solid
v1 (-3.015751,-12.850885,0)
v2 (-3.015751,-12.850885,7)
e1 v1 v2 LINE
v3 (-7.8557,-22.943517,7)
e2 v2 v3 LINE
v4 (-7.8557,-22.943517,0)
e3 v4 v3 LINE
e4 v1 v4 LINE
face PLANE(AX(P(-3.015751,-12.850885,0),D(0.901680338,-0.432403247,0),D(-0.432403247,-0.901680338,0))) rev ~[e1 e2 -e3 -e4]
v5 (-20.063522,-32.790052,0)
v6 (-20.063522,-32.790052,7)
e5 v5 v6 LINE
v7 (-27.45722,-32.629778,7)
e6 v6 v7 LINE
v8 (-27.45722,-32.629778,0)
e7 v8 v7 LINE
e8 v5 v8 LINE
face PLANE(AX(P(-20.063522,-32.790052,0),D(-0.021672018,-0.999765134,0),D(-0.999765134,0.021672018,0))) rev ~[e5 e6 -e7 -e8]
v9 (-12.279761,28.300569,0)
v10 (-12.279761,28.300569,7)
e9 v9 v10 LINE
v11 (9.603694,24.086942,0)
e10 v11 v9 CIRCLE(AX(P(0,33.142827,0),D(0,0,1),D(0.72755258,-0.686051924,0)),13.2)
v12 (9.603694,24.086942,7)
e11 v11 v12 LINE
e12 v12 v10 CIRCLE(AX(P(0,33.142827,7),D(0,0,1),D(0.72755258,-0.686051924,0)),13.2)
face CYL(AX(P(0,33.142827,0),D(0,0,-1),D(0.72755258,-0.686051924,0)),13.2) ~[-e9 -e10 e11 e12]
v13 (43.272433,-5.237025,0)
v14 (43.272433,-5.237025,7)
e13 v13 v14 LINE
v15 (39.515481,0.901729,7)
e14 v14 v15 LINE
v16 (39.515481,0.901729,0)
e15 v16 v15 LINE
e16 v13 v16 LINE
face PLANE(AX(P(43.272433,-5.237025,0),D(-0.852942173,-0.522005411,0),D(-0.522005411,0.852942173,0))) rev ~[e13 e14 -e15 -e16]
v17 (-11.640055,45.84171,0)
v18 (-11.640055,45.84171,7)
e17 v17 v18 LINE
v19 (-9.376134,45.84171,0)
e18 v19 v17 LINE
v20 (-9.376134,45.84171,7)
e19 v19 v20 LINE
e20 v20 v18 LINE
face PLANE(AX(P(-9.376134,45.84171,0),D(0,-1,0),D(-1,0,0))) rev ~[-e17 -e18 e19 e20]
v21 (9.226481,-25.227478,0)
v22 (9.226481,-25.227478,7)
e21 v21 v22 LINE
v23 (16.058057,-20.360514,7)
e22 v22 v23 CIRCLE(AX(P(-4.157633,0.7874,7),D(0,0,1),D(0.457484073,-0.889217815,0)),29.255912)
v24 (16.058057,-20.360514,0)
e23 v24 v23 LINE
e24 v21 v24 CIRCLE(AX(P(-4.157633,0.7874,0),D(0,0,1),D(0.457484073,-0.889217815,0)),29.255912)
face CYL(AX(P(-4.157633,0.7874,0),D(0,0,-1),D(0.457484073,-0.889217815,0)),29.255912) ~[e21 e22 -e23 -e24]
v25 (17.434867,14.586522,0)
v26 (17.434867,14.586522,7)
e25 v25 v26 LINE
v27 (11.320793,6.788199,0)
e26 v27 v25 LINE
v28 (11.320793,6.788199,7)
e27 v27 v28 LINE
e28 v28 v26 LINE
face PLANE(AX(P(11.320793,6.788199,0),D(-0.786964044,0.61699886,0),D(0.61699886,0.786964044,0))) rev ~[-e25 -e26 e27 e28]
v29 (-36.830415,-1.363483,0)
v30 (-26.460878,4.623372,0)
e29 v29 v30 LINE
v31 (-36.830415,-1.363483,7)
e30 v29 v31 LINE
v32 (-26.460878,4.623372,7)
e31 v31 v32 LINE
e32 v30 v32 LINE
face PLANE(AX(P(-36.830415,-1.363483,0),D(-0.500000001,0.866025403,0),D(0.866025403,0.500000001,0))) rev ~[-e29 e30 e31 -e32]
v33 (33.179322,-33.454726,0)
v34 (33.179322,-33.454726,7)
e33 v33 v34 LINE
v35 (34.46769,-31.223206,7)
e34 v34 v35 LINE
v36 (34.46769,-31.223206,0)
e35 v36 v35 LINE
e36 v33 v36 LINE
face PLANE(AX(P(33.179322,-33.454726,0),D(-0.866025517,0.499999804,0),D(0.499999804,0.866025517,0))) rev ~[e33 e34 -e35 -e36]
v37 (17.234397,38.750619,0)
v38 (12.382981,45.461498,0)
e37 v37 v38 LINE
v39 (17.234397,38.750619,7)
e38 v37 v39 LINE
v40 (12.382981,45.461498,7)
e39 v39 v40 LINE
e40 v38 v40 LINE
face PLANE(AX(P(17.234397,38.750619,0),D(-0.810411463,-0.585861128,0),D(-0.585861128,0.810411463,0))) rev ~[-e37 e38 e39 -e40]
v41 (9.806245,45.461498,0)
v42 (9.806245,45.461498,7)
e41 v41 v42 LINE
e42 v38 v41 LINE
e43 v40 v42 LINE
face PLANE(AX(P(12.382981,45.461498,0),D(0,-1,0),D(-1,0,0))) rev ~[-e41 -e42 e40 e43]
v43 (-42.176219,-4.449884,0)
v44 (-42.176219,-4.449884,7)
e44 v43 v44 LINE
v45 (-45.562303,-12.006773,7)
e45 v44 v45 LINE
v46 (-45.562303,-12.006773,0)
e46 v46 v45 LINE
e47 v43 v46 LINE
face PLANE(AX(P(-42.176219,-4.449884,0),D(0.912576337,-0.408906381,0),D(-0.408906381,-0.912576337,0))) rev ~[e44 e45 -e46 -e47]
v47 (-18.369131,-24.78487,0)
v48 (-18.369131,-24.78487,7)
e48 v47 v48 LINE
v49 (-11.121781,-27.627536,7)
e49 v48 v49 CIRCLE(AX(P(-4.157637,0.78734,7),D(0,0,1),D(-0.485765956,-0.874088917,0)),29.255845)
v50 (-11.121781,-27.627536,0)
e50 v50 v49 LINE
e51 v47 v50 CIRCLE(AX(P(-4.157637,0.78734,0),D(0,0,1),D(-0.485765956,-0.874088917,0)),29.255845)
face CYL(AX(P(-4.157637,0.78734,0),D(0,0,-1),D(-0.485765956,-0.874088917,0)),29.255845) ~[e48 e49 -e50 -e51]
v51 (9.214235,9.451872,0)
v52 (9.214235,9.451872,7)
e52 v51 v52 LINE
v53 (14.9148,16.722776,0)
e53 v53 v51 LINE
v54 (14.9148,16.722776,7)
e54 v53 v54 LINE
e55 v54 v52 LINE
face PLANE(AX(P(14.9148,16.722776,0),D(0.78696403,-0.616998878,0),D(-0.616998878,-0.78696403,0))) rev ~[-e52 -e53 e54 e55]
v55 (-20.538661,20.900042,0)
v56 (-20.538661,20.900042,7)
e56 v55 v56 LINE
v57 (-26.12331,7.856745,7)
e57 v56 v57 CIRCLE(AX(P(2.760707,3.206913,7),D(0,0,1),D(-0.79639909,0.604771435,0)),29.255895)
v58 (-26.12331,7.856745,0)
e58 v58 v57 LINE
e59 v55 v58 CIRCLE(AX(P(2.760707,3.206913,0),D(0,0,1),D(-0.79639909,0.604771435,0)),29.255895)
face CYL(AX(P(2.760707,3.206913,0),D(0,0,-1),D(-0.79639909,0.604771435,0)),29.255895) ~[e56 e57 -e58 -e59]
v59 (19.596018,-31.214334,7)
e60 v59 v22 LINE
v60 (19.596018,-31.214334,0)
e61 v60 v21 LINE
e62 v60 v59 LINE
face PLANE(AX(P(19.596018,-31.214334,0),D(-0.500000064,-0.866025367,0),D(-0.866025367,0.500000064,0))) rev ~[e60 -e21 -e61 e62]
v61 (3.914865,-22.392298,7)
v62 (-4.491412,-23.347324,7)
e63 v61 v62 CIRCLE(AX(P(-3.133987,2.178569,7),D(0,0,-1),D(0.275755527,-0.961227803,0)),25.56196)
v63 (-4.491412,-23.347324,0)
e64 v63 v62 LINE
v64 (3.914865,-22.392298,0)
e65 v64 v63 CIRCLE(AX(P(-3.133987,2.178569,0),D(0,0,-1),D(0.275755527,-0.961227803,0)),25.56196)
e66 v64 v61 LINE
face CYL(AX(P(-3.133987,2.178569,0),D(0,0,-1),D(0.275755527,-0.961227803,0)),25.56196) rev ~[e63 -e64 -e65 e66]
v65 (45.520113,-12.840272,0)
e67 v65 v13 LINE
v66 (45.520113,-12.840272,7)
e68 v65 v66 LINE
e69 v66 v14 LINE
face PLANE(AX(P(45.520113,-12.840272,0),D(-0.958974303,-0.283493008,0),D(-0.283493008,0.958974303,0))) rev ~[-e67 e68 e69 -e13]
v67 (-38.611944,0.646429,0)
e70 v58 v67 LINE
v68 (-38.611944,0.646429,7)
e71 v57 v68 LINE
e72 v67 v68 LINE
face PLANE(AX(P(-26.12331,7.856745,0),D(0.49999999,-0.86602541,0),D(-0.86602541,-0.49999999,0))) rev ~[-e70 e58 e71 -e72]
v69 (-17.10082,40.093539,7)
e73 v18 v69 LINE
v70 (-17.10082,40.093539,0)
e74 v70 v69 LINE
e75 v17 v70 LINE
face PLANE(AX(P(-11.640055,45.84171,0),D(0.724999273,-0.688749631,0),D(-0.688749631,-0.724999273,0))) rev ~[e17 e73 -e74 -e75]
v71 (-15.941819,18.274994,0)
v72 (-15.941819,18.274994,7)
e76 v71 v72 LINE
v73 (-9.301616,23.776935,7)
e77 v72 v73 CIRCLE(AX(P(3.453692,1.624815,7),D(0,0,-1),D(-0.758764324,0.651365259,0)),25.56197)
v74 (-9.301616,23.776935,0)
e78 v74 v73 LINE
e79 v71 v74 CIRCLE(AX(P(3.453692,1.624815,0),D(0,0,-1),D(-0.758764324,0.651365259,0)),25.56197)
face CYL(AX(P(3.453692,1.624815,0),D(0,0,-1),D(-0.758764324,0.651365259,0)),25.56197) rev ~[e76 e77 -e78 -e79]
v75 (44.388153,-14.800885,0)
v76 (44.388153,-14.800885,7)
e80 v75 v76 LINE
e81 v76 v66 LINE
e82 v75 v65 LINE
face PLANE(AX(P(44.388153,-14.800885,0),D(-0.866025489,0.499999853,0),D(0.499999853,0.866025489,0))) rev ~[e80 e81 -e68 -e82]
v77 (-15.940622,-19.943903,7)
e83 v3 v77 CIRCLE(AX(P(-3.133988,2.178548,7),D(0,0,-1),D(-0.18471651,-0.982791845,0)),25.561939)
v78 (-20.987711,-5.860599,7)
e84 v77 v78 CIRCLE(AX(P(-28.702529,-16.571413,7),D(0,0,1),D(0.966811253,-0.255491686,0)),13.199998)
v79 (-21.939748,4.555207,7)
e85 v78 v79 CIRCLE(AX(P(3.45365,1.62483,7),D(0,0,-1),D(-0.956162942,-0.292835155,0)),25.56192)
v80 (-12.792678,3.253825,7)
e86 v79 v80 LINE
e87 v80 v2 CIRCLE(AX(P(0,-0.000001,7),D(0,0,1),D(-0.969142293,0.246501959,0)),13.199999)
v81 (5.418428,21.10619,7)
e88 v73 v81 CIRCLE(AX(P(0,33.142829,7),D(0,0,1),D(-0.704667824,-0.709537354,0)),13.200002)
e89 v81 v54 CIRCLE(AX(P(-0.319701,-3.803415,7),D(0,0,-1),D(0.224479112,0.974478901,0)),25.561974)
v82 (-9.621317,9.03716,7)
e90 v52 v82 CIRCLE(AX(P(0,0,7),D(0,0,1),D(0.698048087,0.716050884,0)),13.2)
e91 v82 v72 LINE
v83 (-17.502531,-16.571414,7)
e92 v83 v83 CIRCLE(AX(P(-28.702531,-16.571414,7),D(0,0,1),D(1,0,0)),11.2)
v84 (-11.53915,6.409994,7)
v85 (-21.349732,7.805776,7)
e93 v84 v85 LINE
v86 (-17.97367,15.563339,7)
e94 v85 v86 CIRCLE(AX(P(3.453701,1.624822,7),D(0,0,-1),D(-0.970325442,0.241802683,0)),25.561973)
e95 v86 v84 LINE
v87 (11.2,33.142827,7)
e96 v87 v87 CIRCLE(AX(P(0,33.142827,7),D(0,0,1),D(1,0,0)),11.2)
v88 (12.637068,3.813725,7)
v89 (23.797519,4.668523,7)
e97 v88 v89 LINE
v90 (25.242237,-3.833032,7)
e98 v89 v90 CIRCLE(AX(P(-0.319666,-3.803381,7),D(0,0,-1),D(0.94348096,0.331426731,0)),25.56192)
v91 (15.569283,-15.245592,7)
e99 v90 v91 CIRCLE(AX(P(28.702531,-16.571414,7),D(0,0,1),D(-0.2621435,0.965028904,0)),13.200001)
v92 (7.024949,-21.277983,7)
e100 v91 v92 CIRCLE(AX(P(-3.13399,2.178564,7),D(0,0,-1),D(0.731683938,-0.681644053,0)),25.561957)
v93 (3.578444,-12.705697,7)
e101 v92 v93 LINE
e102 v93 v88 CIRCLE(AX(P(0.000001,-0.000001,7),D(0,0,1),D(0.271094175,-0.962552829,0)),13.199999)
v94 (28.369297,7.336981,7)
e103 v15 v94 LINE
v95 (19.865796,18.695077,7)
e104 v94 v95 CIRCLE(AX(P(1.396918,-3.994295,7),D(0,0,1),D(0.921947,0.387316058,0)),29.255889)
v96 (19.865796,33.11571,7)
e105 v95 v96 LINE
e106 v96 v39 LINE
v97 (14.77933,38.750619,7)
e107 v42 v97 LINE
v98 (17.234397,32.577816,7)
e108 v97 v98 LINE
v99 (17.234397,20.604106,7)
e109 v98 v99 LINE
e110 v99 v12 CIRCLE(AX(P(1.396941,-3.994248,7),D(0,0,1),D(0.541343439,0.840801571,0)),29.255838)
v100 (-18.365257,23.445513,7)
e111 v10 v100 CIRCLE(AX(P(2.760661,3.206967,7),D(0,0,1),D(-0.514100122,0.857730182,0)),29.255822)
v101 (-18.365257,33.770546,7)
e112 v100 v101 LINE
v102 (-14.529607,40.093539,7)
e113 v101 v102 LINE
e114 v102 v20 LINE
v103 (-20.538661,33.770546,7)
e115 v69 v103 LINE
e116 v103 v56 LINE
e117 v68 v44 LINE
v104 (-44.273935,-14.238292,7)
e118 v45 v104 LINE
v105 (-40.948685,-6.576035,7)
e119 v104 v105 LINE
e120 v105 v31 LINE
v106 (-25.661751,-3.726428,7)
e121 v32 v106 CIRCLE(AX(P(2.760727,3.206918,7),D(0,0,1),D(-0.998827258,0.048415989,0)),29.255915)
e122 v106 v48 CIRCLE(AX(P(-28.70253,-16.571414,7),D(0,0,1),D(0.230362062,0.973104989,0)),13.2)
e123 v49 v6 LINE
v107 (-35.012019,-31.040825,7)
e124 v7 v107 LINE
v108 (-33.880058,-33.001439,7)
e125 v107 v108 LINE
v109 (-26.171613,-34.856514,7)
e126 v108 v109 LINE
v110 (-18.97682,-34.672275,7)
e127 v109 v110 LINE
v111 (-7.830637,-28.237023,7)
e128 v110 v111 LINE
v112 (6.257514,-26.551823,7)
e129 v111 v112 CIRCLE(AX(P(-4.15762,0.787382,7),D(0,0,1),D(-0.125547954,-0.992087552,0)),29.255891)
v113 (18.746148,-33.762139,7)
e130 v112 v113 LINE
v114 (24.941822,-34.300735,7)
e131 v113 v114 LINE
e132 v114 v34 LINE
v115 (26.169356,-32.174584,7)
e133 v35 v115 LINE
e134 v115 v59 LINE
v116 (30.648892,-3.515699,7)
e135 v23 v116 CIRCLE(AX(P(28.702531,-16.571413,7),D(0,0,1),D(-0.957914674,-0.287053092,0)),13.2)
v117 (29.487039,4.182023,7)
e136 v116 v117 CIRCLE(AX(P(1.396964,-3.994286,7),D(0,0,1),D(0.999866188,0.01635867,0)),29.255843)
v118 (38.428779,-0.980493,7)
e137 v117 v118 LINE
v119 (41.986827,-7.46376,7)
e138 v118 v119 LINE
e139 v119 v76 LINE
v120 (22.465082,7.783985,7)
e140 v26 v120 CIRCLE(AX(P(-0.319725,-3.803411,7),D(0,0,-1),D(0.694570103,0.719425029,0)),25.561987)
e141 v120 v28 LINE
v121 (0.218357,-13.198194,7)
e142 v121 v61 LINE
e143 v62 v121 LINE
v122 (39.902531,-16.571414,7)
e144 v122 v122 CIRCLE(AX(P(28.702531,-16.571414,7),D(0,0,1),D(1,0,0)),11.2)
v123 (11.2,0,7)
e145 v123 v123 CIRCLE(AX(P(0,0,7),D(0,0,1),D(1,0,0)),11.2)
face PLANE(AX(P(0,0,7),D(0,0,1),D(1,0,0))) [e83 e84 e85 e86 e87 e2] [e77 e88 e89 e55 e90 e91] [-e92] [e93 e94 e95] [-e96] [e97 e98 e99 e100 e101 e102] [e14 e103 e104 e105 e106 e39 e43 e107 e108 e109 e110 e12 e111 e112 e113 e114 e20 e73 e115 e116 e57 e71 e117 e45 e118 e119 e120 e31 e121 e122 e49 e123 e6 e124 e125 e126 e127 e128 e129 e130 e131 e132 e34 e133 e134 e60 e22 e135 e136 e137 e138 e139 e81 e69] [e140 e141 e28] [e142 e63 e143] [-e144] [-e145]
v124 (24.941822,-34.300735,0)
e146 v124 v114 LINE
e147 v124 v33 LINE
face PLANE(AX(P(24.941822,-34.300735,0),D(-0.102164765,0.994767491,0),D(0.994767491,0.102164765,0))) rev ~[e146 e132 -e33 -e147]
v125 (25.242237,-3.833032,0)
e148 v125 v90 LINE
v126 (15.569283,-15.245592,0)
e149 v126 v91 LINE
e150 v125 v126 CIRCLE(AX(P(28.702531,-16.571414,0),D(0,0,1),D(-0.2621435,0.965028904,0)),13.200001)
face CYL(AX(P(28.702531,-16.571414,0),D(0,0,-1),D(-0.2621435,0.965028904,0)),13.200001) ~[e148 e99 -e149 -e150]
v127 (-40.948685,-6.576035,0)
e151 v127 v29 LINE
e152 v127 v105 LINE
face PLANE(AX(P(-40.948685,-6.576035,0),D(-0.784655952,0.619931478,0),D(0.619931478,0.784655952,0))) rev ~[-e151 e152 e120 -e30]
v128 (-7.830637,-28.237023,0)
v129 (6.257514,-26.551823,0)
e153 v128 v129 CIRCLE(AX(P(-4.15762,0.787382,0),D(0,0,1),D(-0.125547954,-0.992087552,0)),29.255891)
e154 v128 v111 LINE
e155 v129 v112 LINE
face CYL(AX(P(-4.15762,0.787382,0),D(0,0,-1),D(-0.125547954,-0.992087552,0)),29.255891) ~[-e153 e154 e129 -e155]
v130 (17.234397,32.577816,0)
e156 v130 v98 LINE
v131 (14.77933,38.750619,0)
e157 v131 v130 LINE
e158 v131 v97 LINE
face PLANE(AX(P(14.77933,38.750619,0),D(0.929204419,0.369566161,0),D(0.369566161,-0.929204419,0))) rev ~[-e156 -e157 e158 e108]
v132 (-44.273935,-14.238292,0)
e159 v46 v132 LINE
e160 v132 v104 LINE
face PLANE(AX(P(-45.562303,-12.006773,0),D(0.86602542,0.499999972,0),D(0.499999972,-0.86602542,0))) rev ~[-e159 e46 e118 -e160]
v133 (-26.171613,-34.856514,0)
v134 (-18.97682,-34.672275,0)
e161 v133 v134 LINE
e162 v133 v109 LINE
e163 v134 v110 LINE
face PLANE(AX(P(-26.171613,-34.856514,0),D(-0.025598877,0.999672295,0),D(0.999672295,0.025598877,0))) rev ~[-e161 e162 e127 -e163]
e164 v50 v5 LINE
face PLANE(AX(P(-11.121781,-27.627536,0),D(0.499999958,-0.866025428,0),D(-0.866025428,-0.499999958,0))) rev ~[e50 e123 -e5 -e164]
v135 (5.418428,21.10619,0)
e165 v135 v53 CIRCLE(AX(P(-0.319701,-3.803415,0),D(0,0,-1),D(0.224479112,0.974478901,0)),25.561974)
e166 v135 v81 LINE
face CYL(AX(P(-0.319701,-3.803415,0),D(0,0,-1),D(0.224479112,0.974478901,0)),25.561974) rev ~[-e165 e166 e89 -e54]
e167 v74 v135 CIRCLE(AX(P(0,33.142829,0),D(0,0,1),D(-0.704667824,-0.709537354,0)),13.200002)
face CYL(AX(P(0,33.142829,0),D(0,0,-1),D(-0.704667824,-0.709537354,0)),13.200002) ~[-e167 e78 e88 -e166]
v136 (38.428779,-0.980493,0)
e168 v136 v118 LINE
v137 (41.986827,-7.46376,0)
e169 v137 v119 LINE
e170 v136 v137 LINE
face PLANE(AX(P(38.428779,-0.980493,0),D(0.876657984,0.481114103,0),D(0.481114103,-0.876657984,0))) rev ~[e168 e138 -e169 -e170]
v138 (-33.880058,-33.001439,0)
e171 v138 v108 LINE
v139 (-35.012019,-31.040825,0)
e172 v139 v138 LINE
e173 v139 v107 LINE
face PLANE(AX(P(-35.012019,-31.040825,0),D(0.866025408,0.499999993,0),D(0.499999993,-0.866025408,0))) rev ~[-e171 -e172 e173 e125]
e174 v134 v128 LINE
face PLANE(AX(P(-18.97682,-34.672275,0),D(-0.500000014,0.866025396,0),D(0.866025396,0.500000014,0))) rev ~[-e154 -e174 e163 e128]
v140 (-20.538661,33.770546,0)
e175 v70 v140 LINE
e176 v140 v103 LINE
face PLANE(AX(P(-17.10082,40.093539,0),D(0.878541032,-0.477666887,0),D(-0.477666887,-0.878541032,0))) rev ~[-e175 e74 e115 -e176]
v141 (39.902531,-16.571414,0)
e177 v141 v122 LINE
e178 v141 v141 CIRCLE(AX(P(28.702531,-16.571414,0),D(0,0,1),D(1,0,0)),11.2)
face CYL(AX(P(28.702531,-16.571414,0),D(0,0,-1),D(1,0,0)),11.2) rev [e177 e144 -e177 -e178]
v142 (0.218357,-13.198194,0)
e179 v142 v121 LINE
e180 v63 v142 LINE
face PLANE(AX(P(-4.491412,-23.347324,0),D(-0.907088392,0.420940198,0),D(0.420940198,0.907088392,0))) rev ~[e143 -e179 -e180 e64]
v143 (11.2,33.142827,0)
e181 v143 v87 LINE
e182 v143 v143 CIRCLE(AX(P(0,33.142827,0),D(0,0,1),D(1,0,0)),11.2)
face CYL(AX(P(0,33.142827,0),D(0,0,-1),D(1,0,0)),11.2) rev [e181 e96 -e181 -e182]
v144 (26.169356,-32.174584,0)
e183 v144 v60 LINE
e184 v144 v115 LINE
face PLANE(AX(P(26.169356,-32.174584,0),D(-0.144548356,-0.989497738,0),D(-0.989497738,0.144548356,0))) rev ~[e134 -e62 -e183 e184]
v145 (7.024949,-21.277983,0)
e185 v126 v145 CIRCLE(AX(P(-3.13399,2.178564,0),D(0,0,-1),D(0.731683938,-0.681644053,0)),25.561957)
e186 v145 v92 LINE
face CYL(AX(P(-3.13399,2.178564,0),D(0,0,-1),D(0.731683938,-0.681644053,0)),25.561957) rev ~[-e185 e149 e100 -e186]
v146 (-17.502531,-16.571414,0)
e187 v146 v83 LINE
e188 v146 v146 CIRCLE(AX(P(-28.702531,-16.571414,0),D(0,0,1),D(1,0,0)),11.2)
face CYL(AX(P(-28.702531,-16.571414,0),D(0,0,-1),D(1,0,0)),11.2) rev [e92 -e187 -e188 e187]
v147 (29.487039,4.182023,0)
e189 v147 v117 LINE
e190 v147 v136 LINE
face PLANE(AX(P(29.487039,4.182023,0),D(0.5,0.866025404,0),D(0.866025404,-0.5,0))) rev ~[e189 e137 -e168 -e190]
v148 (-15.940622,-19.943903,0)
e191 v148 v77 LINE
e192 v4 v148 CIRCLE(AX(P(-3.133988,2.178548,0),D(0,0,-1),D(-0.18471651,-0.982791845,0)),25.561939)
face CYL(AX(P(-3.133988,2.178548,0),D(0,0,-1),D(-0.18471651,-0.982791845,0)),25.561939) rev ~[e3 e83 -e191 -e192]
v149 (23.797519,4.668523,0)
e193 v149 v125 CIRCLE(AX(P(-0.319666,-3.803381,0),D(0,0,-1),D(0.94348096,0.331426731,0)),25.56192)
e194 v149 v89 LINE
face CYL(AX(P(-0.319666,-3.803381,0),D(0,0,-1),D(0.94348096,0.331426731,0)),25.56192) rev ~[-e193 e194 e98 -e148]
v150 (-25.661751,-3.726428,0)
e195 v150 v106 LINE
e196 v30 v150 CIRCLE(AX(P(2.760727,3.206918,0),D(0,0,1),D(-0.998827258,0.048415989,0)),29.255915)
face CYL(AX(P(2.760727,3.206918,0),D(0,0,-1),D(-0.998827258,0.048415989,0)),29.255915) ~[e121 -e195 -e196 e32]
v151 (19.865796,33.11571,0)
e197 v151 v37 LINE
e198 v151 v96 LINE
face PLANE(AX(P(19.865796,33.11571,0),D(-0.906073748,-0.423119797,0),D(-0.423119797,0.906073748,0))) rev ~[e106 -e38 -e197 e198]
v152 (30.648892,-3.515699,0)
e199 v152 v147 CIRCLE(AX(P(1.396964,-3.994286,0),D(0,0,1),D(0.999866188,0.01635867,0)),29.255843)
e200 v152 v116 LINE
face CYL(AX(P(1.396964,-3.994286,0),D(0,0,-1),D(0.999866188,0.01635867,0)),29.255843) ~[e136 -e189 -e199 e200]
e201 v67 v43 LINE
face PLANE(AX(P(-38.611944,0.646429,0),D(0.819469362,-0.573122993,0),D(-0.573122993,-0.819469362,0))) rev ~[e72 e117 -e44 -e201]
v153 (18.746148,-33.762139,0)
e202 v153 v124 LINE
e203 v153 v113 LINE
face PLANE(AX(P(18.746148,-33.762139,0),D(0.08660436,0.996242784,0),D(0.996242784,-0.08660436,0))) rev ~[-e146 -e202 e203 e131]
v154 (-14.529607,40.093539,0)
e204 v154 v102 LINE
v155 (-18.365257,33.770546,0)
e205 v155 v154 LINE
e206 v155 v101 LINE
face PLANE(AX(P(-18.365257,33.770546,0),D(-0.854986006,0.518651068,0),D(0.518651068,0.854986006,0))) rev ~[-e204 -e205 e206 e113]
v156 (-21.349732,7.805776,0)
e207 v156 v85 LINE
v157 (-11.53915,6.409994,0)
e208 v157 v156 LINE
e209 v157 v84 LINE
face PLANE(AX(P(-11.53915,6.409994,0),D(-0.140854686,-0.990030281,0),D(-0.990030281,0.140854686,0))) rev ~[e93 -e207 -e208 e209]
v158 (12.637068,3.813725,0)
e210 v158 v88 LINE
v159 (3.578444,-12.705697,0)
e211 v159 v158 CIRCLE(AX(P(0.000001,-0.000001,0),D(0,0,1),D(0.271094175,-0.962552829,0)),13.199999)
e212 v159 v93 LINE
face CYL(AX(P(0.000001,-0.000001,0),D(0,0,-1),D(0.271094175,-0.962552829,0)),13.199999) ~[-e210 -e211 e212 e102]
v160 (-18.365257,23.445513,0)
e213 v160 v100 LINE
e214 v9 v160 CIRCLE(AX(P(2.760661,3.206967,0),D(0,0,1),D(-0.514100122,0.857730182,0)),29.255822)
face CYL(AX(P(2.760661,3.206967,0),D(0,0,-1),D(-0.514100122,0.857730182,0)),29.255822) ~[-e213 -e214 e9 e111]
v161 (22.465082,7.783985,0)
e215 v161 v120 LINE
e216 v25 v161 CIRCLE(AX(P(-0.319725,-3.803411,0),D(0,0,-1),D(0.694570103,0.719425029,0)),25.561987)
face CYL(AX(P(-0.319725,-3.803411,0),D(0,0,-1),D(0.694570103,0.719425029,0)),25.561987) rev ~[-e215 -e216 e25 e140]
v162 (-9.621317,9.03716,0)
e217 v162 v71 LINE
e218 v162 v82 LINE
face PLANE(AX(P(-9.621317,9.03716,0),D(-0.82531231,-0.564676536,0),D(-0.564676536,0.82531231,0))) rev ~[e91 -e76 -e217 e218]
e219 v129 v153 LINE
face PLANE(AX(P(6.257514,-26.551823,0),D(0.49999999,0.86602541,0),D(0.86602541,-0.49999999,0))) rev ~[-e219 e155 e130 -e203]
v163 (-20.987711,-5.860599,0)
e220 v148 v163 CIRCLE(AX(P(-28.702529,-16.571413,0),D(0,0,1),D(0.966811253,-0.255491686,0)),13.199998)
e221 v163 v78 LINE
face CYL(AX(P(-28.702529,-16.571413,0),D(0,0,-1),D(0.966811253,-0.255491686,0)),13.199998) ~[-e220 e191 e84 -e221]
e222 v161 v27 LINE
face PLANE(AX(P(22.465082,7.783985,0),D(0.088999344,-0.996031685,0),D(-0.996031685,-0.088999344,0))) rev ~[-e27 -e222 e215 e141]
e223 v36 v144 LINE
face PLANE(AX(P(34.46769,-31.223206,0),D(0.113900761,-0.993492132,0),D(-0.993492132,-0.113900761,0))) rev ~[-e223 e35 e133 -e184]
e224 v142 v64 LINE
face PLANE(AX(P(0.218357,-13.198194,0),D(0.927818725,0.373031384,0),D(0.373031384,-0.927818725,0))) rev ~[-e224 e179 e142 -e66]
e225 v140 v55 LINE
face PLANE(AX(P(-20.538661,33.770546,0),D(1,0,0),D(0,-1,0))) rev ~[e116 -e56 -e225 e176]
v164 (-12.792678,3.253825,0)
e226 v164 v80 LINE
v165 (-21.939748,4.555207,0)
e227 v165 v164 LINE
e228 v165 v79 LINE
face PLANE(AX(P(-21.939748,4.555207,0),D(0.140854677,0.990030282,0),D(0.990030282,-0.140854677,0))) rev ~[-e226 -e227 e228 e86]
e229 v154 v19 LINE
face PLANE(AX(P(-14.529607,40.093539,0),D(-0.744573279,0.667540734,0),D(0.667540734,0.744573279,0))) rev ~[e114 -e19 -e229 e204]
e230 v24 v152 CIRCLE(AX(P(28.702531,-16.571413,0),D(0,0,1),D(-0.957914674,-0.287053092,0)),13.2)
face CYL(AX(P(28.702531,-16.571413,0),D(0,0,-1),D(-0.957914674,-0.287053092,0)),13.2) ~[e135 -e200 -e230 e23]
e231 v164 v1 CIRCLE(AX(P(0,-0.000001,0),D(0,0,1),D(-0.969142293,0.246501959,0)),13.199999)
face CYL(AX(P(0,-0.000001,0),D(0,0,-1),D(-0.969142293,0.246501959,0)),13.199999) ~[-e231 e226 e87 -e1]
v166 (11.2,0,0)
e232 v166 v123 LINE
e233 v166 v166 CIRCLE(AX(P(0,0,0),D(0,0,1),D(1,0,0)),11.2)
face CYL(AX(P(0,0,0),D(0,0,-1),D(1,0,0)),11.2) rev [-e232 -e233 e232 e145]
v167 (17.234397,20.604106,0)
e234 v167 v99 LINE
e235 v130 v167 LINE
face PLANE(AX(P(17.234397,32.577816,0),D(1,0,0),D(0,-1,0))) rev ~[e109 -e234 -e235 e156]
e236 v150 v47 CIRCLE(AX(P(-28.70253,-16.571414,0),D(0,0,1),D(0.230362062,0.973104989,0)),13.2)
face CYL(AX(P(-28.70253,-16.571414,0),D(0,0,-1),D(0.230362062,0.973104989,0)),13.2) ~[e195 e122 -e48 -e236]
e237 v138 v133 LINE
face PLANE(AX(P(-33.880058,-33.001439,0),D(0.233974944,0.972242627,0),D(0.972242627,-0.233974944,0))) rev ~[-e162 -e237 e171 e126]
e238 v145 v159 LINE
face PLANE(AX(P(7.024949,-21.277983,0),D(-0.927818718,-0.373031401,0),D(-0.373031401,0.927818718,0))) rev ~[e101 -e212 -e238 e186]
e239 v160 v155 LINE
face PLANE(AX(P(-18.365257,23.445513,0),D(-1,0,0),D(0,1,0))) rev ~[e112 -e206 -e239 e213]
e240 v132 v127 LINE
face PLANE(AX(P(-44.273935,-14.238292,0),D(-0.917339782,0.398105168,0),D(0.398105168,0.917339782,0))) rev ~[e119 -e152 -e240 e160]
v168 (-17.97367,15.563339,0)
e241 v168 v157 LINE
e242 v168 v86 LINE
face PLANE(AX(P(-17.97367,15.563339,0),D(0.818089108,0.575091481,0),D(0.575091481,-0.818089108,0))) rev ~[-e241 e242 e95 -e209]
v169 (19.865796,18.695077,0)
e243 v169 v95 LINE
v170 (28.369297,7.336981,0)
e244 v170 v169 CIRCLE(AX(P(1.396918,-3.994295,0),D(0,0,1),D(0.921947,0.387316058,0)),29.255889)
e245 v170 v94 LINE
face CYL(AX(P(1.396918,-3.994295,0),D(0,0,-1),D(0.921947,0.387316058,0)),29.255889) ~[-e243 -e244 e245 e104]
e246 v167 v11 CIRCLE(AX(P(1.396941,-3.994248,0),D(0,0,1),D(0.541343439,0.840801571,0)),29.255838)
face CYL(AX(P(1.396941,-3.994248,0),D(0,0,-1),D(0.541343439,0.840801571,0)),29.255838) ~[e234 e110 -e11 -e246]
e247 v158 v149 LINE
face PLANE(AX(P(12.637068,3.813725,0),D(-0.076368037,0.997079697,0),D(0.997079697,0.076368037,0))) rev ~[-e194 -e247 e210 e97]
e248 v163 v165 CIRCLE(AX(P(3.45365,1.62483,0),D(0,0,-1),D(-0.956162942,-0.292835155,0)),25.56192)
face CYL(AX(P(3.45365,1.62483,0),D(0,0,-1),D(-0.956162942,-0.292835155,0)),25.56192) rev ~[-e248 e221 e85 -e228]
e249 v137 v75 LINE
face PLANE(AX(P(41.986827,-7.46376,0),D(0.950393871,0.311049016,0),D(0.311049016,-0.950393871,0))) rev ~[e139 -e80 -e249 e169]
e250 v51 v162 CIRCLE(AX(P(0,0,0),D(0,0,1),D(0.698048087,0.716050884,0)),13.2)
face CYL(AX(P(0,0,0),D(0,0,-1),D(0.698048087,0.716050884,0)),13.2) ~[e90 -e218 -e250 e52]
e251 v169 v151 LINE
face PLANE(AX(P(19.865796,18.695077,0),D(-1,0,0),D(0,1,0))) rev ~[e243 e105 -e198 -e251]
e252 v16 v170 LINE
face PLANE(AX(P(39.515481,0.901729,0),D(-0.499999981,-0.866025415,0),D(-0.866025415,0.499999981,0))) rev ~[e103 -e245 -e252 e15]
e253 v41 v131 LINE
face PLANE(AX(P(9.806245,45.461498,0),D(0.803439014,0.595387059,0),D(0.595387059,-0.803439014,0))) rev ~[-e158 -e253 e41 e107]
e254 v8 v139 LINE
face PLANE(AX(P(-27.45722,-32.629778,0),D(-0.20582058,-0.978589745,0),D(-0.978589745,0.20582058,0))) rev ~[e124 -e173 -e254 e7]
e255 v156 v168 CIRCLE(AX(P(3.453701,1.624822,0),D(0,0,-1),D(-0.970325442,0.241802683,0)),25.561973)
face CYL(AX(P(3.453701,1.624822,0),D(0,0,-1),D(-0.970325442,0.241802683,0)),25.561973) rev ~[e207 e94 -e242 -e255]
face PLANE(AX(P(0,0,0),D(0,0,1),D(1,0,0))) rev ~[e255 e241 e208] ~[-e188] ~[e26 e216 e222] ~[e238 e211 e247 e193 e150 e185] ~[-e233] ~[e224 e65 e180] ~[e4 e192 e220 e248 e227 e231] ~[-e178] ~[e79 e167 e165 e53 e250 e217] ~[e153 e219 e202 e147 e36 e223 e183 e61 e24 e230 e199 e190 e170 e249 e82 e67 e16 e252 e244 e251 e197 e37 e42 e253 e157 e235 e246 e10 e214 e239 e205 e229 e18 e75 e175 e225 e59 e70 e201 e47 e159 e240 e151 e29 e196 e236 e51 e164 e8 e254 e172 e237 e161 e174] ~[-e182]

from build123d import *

# Parameters (mm, degrees)
F0_R     = 11.2
F1_DEPTH = 7


with BuildPart() as f1:
    # F0 (on Top) → F1 (new body)
    with BuildSketch(Plane.XY):
        with BuildLine():
            Line((-21.939748, 4.555207), (-12.792678, 3.253825))
            ThreePointArc((-12.792678, 3.253825), (-11.283485, -6.850034), (-3.015751, -12.850885))
            Line((-3.015751, -12.850885), (-7.8557, -22.943517))
            Line((-7.8557, -22.943517), (-9.711457, -26.813285))
            Line((-9.711457, -26.813285), (-11.121781, -27.627536))
            Line((-11.121781, -27.627536), (-20.063522, -32.790052))
            Line((-20.063522, -32.790052), (-27.45722, -32.629778))
            Line((-27.45722, -32.629778), (-35.012019, -31.040825))
            Line((-35.012019, -31.040825), (-33.880058, -33.001439))
            Line((-33.880058, -33.001439), (-26.171613, -34.856514))
            Line((-26.171613, -34.856514), (-18.97682, -34.672275))
            Line((-18.97682, -34.672275), (-7.830637, -28.237023))
            Line((-7.830637, -28.237023), (-6.368866, -27.393069))
            Line((-6.368866, -27.393069), (-4.491412, -23.347324))
            Line((-4.491412, -23.347324), (0.218357, -13.198194))
            Line((0.218357, -13.198194), (3.914865, -22.392298))
            Line((3.914865, -22.392298), (5.384581, -26.047835))
            Line((5.384581, -26.047835), (6.257514, -26.551823))
            Line((6.257514, -26.551823), (18.746148, -33.762139))
            Line((18.746148, -33.762139), (24.941822, -34.300735))
            Line((24.941822, -34.300735), (33.179322, -33.454726))
            Line((33.179322, -33.454726), (34.46769, -31.223206))
            Line((34.46769, -31.223206), (26.169356, -32.174584))
            Line((26.169356, -32.174584), (19.596018, -31.214334))
            Line((19.596018, -31.214334), (9.226481, -25.227478))
            Line((9.226481, -25.227478), (8.427354, -24.766103))
            Line((8.427354, -24.766103), (7.024949, -21.277983))
            Line((7.024949, -21.277983), (3.578444, -12.705697))
            ThreePointArc((3.578444, -12.705697), (11.574046, -6.346768), (12.637068, 3.813725))
            Line((12.637068, 3.813725), (23.797519, 4.668523))
            Line((23.797519, 4.668523), (28.076715, 4.996274))
            Line((28.076715, 4.996274), (29.487039, 4.182023))
            Line((29.487039, 4.182023), (38.428779, -0.980493))
            Line((38.428779, -0.980493), (41.986827, -7.46376))
            Line((41.986827, -7.46376), (44.388153, -14.800885))
            Line((44.388153, -14.800885), (45.520113, -12.840272))
            Line((45.520113, -12.840272), (43.272433, -5.237025))
            Line((43.272433, -5.237025), (39.515481, 0.901729))
            Line((39.515481, 0.901729), (28.369297, 7.336981))
            Line((28.369297, 7.336981), (26.907526, 8.180935))
            Line((26.907526, 8.180935), (22.465082, 7.783985))
            Line((22.465082, 7.783985), (11.320793, 6.788199))
            Line((11.320793, 6.788199), (17.434867, 14.586522))
            Line((17.434867, 14.586522), (19.865796, 17.687101))
            Line((19.865796, 17.687101), (19.865796, 18.695077))
            Line((19.865796, 18.695077), (19.865796, 33.11571))
            Line((19.865796, 33.11571), (17.234397, 38.750619))
            Line((17.234397, 38.750619), (12.382981, 45.461498))
            Line((12.382981, 45.461498), (9.806245, 45.461498))
            Line((9.806245, 45.461498), (14.77933, 38.750619))
            Line((14.77933, 38.750619), (17.234397, 32.577816))
            Line((17.234397, 32.577816), (17.234397, 20.604106))
            Line((17.234397, 20.604106), (17.234397, 19.681354))
            Line((17.234397, 19.681354), (14.9148, 16.722776))
            Line((14.9148, 16.722776), (9.214235, 9.451872))
            ThreePointArc((9.214235, 9.451872), (-0.290561, 13.196802), (-9.621317, 9.03716))
            Line((-9.621317, 9.03716), (-15.941819, 18.274994))
            Line((-15.941819, 18.274994), (-18.365257, 21.817012))
            Line((-18.365257, 21.817012), (-18.365257, 23.445513))
            Line((-18.365257, 23.445513), (-18.365257, 33.770546))
            Line((-18.365257, 33.770546), (-14.529607, 40.093539))
            Line((-14.529607, 40.093539), (-9.376134, 45.84171))
            Line((-9.376134, 45.84171), (-11.640055, 45.84171))
            Line((-11.640055, 45.84171), (-17.10082, 40.093539))
            Line((-17.10082, 40.093539), (-20.538661, 33.770546))
            Line((-20.538661, 33.770546), (-20.538661, 20.900042))
            Line((-20.538661, 20.900042), (-20.538661, 19.212134))
            Line((-20.538661, 19.212134), (-17.97367, 15.563339))
            Line((-17.97367, 15.563339), (-11.53915, 6.409994))
            Line((-11.53915, 6.409994), (-21.349732, 7.805776))
            Line((-21.349732, 7.805776), (-25.250377, 8.360733))
            Line((-25.250377, 8.360733), (-26.12331, 7.856745))
            Line((-26.12331, 7.856745), (-38.611944, 0.646429))
            Line((-38.611944, 0.646429), (-42.176219, -4.449884))
            Line((-42.176219, -4.449884), (-45.562303, -12.006773))
            Line((-45.562303, -12.006773), (-44.273935, -14.238292))
            Line((-44.273935, -14.238292), (-40.948685, -6.576035))
            Line((-40.948685, -6.576035), (-36.830415, -1.363483))
            Line((-36.830415, -1.363483), (-26.460878, 4.623372))
            Line((-26.460878, 4.623372), (-25.661751, 5.084748))
            Line((-25.661751, 5.084748), (-21.939748, 4.555207))
        make_face()
        Circle(F0_R, mode=Mode.SUBTRACT)
        with BuildLine():
            Line((-9.711457, -26.813285), (-7.8557, -22.943517))
            ThreePointArc((-7.8557, -22.943517), (-12.025565, -21.787106), (-15.940622, -19.943903))
            ThreePointArc((-15.940622, -19.943903), (-16.27639, -12.118209), (-20.987711, -5.860599))
            ThreePointArc((-20.987711, -5.860599), (-23.219885, -4.563891), (-25.661751, -3.726428))
            ThreePointArc((-25.661751, -3.726428), (-41.175768, -20.890944), (-18.369131, -24.78487))
            ThreePointArc((-18.369131, -24.78487), (-14.840432, -26.448342), (-11.121781, -27.627536))
            Line((-11.121781, -27.627536), (-9.711457, -26.813285))
        make_face()
        with Locations((-28.702531, -16.571414)):
            Circle(F0_R, mode=Mode.SUBTRACT)
        with BuildLine():
            Line((-6.368866, -27.393069), (-7.830637, -28.237023))
            ThreePointArc((-7.830637, -28.237023), (-0.682852, -28.261424), (6.257514, -26.551823))
            Line((6.257514, -26.551823), (5.384581, -26.047835))
            Line((5.384581, -26.047835), (3.914865, -22.392298))
            ThreePointArc((3.914865, -22.392298), (-0.248488, -23.220008), (-4.491412, -23.347324))
            Line((-4.491412, -23.347324), (-6.368866, -27.393069))
        make_face()
        with BuildLine():
            Line((8.427354, -24.766103), (9.226481, -25.227478))
            ThreePointArc((9.226481, -25.227478), (12.8176, -23.040102), (16.058057, -20.360514))
            ThreePointArc((16.058057, -20.360514), (38.679972, -25.213789), (30.648892, -3.515699))
            ThreePointArc((30.648892, -3.515699), (30.325152, 0.37198), (29.487039, 4.182023))
            Line((29.487039, 4.182023), (28.076715, 4.996274))
            Line((28.076715, 4.996274), (23.797519, 4.668523))
            ThreePointArc((23.797519, 4.668523), (24.88097, 0.479108), (25.242237, -3.833032))
            ThreePointArc((25.242237, -3.833032), (18.632872, -8.036663), (15.569283, -15.245592))
            ThreePointArc((15.569283, -15.245592), (11.608949, -18.703471), (7.024949, -21.277983))
            Line((7.024949, -21.277983), (8.427354, -24.766103))
        make_face()
        with Locations((28.702531, -16.571414)):
            Circle(F0_R, mode=Mode.SUBTRACT)
        with BuildLine():
            ThreePointArc((28.369297, 7.336981), (24.816537, 13.539344), (19.865796, 18.695077))
            Line((19.865796, 18.695077), (19.865796, 17.687101))
            Line((19.865796, 17.687101), (17.434867, 14.586522))
            ThreePointArc((17.434867, 14.586522), (20.233361, 11.394807), (22.465082, 7.783985))
            Line((22.465082, 7.783985), (26.907526, 8.180935))
            Line((26.907526, 8.180935), (28.369297, 7.336981))
        make_face()
        with BuildLine():
            ThreePointArc((-12.279761, 28.300569), (-15.48472, 26.076362), (-18.365257, 23.445513))
            Line((-18.365257, 23.445513), (-18.365257, 21.817012))
            Line((-18.365257, 21.817012), (-15.941819, 18.274994))
            ThreePointArc((-15.941819, 18.274994), (-12.855404, 21.307998), (-9.301616, 23.776935))
            ThreePointArc((-9.301616, 23.776935), (-2.356482, 20.154872), (5.418428, 21.10619))
            ThreePointArc((5.418428, 21.10619), (10.393206, 19.40538), (14.9148, 16.722776))
            Line((14.9148, 16.722776), (17.234397, 19.681354))
            Line((17.234397, 19.681354), (17.234397, 20.604106))
            ThreePointArc((17.234397, 20.604106), (13.544514, 22.620419), (9.603694, 24.086942))
            ThreePointArc((9.603694, 24.086942), (2.495796, 46.104733), (-12.279761, 28.300569))
        make_face()
        with Locations((0, 33.142827)):
            Circle(F0_R, mode=Mode.SUBTRACT)
        with BuildLine():
            ThreePointArc((-20.538661, 20.900042), (-24.133685, 14.722079), (-26.12331, 7.856745))
            Line((-26.12331, 7.856745), (-25.250377, 8.360733))
            Line((-25.250377, 8.360733), (-21.349732, 7.805776))
            ThreePointArc((-21.349732, 7.805776), (-19.984873, 11.825201), (-17.97367, 15.563339))
            Line((-17.97367, 15.563339), (-20.538661, 19.212134))
            Line((-20.538661, 19.212134), (-20.538661, 20.900042))
        make_face()
        with BuildLine():
            ThreePointArc((-20.987711, -5.860599), (-22.002156, -0.701909), (-21.939748, 4.555207))
            Line((-21.939748, 4.555207), (-25.661751, 5.084748))
            Line((-25.661751, 5.084748), (-26.460878, 4.623372))
            ThreePointArc((-26.460878, 4.623372), (-26.362114, 0.419684), (-25.661751, -3.726428))
            ThreePointArc((-25.661751, -3.726428), (-23.219885, -4.563891), (-20.987711, -5.860599))
        make_face()
    extrude(amount=F1_DEPTH)


solid = f1.part
